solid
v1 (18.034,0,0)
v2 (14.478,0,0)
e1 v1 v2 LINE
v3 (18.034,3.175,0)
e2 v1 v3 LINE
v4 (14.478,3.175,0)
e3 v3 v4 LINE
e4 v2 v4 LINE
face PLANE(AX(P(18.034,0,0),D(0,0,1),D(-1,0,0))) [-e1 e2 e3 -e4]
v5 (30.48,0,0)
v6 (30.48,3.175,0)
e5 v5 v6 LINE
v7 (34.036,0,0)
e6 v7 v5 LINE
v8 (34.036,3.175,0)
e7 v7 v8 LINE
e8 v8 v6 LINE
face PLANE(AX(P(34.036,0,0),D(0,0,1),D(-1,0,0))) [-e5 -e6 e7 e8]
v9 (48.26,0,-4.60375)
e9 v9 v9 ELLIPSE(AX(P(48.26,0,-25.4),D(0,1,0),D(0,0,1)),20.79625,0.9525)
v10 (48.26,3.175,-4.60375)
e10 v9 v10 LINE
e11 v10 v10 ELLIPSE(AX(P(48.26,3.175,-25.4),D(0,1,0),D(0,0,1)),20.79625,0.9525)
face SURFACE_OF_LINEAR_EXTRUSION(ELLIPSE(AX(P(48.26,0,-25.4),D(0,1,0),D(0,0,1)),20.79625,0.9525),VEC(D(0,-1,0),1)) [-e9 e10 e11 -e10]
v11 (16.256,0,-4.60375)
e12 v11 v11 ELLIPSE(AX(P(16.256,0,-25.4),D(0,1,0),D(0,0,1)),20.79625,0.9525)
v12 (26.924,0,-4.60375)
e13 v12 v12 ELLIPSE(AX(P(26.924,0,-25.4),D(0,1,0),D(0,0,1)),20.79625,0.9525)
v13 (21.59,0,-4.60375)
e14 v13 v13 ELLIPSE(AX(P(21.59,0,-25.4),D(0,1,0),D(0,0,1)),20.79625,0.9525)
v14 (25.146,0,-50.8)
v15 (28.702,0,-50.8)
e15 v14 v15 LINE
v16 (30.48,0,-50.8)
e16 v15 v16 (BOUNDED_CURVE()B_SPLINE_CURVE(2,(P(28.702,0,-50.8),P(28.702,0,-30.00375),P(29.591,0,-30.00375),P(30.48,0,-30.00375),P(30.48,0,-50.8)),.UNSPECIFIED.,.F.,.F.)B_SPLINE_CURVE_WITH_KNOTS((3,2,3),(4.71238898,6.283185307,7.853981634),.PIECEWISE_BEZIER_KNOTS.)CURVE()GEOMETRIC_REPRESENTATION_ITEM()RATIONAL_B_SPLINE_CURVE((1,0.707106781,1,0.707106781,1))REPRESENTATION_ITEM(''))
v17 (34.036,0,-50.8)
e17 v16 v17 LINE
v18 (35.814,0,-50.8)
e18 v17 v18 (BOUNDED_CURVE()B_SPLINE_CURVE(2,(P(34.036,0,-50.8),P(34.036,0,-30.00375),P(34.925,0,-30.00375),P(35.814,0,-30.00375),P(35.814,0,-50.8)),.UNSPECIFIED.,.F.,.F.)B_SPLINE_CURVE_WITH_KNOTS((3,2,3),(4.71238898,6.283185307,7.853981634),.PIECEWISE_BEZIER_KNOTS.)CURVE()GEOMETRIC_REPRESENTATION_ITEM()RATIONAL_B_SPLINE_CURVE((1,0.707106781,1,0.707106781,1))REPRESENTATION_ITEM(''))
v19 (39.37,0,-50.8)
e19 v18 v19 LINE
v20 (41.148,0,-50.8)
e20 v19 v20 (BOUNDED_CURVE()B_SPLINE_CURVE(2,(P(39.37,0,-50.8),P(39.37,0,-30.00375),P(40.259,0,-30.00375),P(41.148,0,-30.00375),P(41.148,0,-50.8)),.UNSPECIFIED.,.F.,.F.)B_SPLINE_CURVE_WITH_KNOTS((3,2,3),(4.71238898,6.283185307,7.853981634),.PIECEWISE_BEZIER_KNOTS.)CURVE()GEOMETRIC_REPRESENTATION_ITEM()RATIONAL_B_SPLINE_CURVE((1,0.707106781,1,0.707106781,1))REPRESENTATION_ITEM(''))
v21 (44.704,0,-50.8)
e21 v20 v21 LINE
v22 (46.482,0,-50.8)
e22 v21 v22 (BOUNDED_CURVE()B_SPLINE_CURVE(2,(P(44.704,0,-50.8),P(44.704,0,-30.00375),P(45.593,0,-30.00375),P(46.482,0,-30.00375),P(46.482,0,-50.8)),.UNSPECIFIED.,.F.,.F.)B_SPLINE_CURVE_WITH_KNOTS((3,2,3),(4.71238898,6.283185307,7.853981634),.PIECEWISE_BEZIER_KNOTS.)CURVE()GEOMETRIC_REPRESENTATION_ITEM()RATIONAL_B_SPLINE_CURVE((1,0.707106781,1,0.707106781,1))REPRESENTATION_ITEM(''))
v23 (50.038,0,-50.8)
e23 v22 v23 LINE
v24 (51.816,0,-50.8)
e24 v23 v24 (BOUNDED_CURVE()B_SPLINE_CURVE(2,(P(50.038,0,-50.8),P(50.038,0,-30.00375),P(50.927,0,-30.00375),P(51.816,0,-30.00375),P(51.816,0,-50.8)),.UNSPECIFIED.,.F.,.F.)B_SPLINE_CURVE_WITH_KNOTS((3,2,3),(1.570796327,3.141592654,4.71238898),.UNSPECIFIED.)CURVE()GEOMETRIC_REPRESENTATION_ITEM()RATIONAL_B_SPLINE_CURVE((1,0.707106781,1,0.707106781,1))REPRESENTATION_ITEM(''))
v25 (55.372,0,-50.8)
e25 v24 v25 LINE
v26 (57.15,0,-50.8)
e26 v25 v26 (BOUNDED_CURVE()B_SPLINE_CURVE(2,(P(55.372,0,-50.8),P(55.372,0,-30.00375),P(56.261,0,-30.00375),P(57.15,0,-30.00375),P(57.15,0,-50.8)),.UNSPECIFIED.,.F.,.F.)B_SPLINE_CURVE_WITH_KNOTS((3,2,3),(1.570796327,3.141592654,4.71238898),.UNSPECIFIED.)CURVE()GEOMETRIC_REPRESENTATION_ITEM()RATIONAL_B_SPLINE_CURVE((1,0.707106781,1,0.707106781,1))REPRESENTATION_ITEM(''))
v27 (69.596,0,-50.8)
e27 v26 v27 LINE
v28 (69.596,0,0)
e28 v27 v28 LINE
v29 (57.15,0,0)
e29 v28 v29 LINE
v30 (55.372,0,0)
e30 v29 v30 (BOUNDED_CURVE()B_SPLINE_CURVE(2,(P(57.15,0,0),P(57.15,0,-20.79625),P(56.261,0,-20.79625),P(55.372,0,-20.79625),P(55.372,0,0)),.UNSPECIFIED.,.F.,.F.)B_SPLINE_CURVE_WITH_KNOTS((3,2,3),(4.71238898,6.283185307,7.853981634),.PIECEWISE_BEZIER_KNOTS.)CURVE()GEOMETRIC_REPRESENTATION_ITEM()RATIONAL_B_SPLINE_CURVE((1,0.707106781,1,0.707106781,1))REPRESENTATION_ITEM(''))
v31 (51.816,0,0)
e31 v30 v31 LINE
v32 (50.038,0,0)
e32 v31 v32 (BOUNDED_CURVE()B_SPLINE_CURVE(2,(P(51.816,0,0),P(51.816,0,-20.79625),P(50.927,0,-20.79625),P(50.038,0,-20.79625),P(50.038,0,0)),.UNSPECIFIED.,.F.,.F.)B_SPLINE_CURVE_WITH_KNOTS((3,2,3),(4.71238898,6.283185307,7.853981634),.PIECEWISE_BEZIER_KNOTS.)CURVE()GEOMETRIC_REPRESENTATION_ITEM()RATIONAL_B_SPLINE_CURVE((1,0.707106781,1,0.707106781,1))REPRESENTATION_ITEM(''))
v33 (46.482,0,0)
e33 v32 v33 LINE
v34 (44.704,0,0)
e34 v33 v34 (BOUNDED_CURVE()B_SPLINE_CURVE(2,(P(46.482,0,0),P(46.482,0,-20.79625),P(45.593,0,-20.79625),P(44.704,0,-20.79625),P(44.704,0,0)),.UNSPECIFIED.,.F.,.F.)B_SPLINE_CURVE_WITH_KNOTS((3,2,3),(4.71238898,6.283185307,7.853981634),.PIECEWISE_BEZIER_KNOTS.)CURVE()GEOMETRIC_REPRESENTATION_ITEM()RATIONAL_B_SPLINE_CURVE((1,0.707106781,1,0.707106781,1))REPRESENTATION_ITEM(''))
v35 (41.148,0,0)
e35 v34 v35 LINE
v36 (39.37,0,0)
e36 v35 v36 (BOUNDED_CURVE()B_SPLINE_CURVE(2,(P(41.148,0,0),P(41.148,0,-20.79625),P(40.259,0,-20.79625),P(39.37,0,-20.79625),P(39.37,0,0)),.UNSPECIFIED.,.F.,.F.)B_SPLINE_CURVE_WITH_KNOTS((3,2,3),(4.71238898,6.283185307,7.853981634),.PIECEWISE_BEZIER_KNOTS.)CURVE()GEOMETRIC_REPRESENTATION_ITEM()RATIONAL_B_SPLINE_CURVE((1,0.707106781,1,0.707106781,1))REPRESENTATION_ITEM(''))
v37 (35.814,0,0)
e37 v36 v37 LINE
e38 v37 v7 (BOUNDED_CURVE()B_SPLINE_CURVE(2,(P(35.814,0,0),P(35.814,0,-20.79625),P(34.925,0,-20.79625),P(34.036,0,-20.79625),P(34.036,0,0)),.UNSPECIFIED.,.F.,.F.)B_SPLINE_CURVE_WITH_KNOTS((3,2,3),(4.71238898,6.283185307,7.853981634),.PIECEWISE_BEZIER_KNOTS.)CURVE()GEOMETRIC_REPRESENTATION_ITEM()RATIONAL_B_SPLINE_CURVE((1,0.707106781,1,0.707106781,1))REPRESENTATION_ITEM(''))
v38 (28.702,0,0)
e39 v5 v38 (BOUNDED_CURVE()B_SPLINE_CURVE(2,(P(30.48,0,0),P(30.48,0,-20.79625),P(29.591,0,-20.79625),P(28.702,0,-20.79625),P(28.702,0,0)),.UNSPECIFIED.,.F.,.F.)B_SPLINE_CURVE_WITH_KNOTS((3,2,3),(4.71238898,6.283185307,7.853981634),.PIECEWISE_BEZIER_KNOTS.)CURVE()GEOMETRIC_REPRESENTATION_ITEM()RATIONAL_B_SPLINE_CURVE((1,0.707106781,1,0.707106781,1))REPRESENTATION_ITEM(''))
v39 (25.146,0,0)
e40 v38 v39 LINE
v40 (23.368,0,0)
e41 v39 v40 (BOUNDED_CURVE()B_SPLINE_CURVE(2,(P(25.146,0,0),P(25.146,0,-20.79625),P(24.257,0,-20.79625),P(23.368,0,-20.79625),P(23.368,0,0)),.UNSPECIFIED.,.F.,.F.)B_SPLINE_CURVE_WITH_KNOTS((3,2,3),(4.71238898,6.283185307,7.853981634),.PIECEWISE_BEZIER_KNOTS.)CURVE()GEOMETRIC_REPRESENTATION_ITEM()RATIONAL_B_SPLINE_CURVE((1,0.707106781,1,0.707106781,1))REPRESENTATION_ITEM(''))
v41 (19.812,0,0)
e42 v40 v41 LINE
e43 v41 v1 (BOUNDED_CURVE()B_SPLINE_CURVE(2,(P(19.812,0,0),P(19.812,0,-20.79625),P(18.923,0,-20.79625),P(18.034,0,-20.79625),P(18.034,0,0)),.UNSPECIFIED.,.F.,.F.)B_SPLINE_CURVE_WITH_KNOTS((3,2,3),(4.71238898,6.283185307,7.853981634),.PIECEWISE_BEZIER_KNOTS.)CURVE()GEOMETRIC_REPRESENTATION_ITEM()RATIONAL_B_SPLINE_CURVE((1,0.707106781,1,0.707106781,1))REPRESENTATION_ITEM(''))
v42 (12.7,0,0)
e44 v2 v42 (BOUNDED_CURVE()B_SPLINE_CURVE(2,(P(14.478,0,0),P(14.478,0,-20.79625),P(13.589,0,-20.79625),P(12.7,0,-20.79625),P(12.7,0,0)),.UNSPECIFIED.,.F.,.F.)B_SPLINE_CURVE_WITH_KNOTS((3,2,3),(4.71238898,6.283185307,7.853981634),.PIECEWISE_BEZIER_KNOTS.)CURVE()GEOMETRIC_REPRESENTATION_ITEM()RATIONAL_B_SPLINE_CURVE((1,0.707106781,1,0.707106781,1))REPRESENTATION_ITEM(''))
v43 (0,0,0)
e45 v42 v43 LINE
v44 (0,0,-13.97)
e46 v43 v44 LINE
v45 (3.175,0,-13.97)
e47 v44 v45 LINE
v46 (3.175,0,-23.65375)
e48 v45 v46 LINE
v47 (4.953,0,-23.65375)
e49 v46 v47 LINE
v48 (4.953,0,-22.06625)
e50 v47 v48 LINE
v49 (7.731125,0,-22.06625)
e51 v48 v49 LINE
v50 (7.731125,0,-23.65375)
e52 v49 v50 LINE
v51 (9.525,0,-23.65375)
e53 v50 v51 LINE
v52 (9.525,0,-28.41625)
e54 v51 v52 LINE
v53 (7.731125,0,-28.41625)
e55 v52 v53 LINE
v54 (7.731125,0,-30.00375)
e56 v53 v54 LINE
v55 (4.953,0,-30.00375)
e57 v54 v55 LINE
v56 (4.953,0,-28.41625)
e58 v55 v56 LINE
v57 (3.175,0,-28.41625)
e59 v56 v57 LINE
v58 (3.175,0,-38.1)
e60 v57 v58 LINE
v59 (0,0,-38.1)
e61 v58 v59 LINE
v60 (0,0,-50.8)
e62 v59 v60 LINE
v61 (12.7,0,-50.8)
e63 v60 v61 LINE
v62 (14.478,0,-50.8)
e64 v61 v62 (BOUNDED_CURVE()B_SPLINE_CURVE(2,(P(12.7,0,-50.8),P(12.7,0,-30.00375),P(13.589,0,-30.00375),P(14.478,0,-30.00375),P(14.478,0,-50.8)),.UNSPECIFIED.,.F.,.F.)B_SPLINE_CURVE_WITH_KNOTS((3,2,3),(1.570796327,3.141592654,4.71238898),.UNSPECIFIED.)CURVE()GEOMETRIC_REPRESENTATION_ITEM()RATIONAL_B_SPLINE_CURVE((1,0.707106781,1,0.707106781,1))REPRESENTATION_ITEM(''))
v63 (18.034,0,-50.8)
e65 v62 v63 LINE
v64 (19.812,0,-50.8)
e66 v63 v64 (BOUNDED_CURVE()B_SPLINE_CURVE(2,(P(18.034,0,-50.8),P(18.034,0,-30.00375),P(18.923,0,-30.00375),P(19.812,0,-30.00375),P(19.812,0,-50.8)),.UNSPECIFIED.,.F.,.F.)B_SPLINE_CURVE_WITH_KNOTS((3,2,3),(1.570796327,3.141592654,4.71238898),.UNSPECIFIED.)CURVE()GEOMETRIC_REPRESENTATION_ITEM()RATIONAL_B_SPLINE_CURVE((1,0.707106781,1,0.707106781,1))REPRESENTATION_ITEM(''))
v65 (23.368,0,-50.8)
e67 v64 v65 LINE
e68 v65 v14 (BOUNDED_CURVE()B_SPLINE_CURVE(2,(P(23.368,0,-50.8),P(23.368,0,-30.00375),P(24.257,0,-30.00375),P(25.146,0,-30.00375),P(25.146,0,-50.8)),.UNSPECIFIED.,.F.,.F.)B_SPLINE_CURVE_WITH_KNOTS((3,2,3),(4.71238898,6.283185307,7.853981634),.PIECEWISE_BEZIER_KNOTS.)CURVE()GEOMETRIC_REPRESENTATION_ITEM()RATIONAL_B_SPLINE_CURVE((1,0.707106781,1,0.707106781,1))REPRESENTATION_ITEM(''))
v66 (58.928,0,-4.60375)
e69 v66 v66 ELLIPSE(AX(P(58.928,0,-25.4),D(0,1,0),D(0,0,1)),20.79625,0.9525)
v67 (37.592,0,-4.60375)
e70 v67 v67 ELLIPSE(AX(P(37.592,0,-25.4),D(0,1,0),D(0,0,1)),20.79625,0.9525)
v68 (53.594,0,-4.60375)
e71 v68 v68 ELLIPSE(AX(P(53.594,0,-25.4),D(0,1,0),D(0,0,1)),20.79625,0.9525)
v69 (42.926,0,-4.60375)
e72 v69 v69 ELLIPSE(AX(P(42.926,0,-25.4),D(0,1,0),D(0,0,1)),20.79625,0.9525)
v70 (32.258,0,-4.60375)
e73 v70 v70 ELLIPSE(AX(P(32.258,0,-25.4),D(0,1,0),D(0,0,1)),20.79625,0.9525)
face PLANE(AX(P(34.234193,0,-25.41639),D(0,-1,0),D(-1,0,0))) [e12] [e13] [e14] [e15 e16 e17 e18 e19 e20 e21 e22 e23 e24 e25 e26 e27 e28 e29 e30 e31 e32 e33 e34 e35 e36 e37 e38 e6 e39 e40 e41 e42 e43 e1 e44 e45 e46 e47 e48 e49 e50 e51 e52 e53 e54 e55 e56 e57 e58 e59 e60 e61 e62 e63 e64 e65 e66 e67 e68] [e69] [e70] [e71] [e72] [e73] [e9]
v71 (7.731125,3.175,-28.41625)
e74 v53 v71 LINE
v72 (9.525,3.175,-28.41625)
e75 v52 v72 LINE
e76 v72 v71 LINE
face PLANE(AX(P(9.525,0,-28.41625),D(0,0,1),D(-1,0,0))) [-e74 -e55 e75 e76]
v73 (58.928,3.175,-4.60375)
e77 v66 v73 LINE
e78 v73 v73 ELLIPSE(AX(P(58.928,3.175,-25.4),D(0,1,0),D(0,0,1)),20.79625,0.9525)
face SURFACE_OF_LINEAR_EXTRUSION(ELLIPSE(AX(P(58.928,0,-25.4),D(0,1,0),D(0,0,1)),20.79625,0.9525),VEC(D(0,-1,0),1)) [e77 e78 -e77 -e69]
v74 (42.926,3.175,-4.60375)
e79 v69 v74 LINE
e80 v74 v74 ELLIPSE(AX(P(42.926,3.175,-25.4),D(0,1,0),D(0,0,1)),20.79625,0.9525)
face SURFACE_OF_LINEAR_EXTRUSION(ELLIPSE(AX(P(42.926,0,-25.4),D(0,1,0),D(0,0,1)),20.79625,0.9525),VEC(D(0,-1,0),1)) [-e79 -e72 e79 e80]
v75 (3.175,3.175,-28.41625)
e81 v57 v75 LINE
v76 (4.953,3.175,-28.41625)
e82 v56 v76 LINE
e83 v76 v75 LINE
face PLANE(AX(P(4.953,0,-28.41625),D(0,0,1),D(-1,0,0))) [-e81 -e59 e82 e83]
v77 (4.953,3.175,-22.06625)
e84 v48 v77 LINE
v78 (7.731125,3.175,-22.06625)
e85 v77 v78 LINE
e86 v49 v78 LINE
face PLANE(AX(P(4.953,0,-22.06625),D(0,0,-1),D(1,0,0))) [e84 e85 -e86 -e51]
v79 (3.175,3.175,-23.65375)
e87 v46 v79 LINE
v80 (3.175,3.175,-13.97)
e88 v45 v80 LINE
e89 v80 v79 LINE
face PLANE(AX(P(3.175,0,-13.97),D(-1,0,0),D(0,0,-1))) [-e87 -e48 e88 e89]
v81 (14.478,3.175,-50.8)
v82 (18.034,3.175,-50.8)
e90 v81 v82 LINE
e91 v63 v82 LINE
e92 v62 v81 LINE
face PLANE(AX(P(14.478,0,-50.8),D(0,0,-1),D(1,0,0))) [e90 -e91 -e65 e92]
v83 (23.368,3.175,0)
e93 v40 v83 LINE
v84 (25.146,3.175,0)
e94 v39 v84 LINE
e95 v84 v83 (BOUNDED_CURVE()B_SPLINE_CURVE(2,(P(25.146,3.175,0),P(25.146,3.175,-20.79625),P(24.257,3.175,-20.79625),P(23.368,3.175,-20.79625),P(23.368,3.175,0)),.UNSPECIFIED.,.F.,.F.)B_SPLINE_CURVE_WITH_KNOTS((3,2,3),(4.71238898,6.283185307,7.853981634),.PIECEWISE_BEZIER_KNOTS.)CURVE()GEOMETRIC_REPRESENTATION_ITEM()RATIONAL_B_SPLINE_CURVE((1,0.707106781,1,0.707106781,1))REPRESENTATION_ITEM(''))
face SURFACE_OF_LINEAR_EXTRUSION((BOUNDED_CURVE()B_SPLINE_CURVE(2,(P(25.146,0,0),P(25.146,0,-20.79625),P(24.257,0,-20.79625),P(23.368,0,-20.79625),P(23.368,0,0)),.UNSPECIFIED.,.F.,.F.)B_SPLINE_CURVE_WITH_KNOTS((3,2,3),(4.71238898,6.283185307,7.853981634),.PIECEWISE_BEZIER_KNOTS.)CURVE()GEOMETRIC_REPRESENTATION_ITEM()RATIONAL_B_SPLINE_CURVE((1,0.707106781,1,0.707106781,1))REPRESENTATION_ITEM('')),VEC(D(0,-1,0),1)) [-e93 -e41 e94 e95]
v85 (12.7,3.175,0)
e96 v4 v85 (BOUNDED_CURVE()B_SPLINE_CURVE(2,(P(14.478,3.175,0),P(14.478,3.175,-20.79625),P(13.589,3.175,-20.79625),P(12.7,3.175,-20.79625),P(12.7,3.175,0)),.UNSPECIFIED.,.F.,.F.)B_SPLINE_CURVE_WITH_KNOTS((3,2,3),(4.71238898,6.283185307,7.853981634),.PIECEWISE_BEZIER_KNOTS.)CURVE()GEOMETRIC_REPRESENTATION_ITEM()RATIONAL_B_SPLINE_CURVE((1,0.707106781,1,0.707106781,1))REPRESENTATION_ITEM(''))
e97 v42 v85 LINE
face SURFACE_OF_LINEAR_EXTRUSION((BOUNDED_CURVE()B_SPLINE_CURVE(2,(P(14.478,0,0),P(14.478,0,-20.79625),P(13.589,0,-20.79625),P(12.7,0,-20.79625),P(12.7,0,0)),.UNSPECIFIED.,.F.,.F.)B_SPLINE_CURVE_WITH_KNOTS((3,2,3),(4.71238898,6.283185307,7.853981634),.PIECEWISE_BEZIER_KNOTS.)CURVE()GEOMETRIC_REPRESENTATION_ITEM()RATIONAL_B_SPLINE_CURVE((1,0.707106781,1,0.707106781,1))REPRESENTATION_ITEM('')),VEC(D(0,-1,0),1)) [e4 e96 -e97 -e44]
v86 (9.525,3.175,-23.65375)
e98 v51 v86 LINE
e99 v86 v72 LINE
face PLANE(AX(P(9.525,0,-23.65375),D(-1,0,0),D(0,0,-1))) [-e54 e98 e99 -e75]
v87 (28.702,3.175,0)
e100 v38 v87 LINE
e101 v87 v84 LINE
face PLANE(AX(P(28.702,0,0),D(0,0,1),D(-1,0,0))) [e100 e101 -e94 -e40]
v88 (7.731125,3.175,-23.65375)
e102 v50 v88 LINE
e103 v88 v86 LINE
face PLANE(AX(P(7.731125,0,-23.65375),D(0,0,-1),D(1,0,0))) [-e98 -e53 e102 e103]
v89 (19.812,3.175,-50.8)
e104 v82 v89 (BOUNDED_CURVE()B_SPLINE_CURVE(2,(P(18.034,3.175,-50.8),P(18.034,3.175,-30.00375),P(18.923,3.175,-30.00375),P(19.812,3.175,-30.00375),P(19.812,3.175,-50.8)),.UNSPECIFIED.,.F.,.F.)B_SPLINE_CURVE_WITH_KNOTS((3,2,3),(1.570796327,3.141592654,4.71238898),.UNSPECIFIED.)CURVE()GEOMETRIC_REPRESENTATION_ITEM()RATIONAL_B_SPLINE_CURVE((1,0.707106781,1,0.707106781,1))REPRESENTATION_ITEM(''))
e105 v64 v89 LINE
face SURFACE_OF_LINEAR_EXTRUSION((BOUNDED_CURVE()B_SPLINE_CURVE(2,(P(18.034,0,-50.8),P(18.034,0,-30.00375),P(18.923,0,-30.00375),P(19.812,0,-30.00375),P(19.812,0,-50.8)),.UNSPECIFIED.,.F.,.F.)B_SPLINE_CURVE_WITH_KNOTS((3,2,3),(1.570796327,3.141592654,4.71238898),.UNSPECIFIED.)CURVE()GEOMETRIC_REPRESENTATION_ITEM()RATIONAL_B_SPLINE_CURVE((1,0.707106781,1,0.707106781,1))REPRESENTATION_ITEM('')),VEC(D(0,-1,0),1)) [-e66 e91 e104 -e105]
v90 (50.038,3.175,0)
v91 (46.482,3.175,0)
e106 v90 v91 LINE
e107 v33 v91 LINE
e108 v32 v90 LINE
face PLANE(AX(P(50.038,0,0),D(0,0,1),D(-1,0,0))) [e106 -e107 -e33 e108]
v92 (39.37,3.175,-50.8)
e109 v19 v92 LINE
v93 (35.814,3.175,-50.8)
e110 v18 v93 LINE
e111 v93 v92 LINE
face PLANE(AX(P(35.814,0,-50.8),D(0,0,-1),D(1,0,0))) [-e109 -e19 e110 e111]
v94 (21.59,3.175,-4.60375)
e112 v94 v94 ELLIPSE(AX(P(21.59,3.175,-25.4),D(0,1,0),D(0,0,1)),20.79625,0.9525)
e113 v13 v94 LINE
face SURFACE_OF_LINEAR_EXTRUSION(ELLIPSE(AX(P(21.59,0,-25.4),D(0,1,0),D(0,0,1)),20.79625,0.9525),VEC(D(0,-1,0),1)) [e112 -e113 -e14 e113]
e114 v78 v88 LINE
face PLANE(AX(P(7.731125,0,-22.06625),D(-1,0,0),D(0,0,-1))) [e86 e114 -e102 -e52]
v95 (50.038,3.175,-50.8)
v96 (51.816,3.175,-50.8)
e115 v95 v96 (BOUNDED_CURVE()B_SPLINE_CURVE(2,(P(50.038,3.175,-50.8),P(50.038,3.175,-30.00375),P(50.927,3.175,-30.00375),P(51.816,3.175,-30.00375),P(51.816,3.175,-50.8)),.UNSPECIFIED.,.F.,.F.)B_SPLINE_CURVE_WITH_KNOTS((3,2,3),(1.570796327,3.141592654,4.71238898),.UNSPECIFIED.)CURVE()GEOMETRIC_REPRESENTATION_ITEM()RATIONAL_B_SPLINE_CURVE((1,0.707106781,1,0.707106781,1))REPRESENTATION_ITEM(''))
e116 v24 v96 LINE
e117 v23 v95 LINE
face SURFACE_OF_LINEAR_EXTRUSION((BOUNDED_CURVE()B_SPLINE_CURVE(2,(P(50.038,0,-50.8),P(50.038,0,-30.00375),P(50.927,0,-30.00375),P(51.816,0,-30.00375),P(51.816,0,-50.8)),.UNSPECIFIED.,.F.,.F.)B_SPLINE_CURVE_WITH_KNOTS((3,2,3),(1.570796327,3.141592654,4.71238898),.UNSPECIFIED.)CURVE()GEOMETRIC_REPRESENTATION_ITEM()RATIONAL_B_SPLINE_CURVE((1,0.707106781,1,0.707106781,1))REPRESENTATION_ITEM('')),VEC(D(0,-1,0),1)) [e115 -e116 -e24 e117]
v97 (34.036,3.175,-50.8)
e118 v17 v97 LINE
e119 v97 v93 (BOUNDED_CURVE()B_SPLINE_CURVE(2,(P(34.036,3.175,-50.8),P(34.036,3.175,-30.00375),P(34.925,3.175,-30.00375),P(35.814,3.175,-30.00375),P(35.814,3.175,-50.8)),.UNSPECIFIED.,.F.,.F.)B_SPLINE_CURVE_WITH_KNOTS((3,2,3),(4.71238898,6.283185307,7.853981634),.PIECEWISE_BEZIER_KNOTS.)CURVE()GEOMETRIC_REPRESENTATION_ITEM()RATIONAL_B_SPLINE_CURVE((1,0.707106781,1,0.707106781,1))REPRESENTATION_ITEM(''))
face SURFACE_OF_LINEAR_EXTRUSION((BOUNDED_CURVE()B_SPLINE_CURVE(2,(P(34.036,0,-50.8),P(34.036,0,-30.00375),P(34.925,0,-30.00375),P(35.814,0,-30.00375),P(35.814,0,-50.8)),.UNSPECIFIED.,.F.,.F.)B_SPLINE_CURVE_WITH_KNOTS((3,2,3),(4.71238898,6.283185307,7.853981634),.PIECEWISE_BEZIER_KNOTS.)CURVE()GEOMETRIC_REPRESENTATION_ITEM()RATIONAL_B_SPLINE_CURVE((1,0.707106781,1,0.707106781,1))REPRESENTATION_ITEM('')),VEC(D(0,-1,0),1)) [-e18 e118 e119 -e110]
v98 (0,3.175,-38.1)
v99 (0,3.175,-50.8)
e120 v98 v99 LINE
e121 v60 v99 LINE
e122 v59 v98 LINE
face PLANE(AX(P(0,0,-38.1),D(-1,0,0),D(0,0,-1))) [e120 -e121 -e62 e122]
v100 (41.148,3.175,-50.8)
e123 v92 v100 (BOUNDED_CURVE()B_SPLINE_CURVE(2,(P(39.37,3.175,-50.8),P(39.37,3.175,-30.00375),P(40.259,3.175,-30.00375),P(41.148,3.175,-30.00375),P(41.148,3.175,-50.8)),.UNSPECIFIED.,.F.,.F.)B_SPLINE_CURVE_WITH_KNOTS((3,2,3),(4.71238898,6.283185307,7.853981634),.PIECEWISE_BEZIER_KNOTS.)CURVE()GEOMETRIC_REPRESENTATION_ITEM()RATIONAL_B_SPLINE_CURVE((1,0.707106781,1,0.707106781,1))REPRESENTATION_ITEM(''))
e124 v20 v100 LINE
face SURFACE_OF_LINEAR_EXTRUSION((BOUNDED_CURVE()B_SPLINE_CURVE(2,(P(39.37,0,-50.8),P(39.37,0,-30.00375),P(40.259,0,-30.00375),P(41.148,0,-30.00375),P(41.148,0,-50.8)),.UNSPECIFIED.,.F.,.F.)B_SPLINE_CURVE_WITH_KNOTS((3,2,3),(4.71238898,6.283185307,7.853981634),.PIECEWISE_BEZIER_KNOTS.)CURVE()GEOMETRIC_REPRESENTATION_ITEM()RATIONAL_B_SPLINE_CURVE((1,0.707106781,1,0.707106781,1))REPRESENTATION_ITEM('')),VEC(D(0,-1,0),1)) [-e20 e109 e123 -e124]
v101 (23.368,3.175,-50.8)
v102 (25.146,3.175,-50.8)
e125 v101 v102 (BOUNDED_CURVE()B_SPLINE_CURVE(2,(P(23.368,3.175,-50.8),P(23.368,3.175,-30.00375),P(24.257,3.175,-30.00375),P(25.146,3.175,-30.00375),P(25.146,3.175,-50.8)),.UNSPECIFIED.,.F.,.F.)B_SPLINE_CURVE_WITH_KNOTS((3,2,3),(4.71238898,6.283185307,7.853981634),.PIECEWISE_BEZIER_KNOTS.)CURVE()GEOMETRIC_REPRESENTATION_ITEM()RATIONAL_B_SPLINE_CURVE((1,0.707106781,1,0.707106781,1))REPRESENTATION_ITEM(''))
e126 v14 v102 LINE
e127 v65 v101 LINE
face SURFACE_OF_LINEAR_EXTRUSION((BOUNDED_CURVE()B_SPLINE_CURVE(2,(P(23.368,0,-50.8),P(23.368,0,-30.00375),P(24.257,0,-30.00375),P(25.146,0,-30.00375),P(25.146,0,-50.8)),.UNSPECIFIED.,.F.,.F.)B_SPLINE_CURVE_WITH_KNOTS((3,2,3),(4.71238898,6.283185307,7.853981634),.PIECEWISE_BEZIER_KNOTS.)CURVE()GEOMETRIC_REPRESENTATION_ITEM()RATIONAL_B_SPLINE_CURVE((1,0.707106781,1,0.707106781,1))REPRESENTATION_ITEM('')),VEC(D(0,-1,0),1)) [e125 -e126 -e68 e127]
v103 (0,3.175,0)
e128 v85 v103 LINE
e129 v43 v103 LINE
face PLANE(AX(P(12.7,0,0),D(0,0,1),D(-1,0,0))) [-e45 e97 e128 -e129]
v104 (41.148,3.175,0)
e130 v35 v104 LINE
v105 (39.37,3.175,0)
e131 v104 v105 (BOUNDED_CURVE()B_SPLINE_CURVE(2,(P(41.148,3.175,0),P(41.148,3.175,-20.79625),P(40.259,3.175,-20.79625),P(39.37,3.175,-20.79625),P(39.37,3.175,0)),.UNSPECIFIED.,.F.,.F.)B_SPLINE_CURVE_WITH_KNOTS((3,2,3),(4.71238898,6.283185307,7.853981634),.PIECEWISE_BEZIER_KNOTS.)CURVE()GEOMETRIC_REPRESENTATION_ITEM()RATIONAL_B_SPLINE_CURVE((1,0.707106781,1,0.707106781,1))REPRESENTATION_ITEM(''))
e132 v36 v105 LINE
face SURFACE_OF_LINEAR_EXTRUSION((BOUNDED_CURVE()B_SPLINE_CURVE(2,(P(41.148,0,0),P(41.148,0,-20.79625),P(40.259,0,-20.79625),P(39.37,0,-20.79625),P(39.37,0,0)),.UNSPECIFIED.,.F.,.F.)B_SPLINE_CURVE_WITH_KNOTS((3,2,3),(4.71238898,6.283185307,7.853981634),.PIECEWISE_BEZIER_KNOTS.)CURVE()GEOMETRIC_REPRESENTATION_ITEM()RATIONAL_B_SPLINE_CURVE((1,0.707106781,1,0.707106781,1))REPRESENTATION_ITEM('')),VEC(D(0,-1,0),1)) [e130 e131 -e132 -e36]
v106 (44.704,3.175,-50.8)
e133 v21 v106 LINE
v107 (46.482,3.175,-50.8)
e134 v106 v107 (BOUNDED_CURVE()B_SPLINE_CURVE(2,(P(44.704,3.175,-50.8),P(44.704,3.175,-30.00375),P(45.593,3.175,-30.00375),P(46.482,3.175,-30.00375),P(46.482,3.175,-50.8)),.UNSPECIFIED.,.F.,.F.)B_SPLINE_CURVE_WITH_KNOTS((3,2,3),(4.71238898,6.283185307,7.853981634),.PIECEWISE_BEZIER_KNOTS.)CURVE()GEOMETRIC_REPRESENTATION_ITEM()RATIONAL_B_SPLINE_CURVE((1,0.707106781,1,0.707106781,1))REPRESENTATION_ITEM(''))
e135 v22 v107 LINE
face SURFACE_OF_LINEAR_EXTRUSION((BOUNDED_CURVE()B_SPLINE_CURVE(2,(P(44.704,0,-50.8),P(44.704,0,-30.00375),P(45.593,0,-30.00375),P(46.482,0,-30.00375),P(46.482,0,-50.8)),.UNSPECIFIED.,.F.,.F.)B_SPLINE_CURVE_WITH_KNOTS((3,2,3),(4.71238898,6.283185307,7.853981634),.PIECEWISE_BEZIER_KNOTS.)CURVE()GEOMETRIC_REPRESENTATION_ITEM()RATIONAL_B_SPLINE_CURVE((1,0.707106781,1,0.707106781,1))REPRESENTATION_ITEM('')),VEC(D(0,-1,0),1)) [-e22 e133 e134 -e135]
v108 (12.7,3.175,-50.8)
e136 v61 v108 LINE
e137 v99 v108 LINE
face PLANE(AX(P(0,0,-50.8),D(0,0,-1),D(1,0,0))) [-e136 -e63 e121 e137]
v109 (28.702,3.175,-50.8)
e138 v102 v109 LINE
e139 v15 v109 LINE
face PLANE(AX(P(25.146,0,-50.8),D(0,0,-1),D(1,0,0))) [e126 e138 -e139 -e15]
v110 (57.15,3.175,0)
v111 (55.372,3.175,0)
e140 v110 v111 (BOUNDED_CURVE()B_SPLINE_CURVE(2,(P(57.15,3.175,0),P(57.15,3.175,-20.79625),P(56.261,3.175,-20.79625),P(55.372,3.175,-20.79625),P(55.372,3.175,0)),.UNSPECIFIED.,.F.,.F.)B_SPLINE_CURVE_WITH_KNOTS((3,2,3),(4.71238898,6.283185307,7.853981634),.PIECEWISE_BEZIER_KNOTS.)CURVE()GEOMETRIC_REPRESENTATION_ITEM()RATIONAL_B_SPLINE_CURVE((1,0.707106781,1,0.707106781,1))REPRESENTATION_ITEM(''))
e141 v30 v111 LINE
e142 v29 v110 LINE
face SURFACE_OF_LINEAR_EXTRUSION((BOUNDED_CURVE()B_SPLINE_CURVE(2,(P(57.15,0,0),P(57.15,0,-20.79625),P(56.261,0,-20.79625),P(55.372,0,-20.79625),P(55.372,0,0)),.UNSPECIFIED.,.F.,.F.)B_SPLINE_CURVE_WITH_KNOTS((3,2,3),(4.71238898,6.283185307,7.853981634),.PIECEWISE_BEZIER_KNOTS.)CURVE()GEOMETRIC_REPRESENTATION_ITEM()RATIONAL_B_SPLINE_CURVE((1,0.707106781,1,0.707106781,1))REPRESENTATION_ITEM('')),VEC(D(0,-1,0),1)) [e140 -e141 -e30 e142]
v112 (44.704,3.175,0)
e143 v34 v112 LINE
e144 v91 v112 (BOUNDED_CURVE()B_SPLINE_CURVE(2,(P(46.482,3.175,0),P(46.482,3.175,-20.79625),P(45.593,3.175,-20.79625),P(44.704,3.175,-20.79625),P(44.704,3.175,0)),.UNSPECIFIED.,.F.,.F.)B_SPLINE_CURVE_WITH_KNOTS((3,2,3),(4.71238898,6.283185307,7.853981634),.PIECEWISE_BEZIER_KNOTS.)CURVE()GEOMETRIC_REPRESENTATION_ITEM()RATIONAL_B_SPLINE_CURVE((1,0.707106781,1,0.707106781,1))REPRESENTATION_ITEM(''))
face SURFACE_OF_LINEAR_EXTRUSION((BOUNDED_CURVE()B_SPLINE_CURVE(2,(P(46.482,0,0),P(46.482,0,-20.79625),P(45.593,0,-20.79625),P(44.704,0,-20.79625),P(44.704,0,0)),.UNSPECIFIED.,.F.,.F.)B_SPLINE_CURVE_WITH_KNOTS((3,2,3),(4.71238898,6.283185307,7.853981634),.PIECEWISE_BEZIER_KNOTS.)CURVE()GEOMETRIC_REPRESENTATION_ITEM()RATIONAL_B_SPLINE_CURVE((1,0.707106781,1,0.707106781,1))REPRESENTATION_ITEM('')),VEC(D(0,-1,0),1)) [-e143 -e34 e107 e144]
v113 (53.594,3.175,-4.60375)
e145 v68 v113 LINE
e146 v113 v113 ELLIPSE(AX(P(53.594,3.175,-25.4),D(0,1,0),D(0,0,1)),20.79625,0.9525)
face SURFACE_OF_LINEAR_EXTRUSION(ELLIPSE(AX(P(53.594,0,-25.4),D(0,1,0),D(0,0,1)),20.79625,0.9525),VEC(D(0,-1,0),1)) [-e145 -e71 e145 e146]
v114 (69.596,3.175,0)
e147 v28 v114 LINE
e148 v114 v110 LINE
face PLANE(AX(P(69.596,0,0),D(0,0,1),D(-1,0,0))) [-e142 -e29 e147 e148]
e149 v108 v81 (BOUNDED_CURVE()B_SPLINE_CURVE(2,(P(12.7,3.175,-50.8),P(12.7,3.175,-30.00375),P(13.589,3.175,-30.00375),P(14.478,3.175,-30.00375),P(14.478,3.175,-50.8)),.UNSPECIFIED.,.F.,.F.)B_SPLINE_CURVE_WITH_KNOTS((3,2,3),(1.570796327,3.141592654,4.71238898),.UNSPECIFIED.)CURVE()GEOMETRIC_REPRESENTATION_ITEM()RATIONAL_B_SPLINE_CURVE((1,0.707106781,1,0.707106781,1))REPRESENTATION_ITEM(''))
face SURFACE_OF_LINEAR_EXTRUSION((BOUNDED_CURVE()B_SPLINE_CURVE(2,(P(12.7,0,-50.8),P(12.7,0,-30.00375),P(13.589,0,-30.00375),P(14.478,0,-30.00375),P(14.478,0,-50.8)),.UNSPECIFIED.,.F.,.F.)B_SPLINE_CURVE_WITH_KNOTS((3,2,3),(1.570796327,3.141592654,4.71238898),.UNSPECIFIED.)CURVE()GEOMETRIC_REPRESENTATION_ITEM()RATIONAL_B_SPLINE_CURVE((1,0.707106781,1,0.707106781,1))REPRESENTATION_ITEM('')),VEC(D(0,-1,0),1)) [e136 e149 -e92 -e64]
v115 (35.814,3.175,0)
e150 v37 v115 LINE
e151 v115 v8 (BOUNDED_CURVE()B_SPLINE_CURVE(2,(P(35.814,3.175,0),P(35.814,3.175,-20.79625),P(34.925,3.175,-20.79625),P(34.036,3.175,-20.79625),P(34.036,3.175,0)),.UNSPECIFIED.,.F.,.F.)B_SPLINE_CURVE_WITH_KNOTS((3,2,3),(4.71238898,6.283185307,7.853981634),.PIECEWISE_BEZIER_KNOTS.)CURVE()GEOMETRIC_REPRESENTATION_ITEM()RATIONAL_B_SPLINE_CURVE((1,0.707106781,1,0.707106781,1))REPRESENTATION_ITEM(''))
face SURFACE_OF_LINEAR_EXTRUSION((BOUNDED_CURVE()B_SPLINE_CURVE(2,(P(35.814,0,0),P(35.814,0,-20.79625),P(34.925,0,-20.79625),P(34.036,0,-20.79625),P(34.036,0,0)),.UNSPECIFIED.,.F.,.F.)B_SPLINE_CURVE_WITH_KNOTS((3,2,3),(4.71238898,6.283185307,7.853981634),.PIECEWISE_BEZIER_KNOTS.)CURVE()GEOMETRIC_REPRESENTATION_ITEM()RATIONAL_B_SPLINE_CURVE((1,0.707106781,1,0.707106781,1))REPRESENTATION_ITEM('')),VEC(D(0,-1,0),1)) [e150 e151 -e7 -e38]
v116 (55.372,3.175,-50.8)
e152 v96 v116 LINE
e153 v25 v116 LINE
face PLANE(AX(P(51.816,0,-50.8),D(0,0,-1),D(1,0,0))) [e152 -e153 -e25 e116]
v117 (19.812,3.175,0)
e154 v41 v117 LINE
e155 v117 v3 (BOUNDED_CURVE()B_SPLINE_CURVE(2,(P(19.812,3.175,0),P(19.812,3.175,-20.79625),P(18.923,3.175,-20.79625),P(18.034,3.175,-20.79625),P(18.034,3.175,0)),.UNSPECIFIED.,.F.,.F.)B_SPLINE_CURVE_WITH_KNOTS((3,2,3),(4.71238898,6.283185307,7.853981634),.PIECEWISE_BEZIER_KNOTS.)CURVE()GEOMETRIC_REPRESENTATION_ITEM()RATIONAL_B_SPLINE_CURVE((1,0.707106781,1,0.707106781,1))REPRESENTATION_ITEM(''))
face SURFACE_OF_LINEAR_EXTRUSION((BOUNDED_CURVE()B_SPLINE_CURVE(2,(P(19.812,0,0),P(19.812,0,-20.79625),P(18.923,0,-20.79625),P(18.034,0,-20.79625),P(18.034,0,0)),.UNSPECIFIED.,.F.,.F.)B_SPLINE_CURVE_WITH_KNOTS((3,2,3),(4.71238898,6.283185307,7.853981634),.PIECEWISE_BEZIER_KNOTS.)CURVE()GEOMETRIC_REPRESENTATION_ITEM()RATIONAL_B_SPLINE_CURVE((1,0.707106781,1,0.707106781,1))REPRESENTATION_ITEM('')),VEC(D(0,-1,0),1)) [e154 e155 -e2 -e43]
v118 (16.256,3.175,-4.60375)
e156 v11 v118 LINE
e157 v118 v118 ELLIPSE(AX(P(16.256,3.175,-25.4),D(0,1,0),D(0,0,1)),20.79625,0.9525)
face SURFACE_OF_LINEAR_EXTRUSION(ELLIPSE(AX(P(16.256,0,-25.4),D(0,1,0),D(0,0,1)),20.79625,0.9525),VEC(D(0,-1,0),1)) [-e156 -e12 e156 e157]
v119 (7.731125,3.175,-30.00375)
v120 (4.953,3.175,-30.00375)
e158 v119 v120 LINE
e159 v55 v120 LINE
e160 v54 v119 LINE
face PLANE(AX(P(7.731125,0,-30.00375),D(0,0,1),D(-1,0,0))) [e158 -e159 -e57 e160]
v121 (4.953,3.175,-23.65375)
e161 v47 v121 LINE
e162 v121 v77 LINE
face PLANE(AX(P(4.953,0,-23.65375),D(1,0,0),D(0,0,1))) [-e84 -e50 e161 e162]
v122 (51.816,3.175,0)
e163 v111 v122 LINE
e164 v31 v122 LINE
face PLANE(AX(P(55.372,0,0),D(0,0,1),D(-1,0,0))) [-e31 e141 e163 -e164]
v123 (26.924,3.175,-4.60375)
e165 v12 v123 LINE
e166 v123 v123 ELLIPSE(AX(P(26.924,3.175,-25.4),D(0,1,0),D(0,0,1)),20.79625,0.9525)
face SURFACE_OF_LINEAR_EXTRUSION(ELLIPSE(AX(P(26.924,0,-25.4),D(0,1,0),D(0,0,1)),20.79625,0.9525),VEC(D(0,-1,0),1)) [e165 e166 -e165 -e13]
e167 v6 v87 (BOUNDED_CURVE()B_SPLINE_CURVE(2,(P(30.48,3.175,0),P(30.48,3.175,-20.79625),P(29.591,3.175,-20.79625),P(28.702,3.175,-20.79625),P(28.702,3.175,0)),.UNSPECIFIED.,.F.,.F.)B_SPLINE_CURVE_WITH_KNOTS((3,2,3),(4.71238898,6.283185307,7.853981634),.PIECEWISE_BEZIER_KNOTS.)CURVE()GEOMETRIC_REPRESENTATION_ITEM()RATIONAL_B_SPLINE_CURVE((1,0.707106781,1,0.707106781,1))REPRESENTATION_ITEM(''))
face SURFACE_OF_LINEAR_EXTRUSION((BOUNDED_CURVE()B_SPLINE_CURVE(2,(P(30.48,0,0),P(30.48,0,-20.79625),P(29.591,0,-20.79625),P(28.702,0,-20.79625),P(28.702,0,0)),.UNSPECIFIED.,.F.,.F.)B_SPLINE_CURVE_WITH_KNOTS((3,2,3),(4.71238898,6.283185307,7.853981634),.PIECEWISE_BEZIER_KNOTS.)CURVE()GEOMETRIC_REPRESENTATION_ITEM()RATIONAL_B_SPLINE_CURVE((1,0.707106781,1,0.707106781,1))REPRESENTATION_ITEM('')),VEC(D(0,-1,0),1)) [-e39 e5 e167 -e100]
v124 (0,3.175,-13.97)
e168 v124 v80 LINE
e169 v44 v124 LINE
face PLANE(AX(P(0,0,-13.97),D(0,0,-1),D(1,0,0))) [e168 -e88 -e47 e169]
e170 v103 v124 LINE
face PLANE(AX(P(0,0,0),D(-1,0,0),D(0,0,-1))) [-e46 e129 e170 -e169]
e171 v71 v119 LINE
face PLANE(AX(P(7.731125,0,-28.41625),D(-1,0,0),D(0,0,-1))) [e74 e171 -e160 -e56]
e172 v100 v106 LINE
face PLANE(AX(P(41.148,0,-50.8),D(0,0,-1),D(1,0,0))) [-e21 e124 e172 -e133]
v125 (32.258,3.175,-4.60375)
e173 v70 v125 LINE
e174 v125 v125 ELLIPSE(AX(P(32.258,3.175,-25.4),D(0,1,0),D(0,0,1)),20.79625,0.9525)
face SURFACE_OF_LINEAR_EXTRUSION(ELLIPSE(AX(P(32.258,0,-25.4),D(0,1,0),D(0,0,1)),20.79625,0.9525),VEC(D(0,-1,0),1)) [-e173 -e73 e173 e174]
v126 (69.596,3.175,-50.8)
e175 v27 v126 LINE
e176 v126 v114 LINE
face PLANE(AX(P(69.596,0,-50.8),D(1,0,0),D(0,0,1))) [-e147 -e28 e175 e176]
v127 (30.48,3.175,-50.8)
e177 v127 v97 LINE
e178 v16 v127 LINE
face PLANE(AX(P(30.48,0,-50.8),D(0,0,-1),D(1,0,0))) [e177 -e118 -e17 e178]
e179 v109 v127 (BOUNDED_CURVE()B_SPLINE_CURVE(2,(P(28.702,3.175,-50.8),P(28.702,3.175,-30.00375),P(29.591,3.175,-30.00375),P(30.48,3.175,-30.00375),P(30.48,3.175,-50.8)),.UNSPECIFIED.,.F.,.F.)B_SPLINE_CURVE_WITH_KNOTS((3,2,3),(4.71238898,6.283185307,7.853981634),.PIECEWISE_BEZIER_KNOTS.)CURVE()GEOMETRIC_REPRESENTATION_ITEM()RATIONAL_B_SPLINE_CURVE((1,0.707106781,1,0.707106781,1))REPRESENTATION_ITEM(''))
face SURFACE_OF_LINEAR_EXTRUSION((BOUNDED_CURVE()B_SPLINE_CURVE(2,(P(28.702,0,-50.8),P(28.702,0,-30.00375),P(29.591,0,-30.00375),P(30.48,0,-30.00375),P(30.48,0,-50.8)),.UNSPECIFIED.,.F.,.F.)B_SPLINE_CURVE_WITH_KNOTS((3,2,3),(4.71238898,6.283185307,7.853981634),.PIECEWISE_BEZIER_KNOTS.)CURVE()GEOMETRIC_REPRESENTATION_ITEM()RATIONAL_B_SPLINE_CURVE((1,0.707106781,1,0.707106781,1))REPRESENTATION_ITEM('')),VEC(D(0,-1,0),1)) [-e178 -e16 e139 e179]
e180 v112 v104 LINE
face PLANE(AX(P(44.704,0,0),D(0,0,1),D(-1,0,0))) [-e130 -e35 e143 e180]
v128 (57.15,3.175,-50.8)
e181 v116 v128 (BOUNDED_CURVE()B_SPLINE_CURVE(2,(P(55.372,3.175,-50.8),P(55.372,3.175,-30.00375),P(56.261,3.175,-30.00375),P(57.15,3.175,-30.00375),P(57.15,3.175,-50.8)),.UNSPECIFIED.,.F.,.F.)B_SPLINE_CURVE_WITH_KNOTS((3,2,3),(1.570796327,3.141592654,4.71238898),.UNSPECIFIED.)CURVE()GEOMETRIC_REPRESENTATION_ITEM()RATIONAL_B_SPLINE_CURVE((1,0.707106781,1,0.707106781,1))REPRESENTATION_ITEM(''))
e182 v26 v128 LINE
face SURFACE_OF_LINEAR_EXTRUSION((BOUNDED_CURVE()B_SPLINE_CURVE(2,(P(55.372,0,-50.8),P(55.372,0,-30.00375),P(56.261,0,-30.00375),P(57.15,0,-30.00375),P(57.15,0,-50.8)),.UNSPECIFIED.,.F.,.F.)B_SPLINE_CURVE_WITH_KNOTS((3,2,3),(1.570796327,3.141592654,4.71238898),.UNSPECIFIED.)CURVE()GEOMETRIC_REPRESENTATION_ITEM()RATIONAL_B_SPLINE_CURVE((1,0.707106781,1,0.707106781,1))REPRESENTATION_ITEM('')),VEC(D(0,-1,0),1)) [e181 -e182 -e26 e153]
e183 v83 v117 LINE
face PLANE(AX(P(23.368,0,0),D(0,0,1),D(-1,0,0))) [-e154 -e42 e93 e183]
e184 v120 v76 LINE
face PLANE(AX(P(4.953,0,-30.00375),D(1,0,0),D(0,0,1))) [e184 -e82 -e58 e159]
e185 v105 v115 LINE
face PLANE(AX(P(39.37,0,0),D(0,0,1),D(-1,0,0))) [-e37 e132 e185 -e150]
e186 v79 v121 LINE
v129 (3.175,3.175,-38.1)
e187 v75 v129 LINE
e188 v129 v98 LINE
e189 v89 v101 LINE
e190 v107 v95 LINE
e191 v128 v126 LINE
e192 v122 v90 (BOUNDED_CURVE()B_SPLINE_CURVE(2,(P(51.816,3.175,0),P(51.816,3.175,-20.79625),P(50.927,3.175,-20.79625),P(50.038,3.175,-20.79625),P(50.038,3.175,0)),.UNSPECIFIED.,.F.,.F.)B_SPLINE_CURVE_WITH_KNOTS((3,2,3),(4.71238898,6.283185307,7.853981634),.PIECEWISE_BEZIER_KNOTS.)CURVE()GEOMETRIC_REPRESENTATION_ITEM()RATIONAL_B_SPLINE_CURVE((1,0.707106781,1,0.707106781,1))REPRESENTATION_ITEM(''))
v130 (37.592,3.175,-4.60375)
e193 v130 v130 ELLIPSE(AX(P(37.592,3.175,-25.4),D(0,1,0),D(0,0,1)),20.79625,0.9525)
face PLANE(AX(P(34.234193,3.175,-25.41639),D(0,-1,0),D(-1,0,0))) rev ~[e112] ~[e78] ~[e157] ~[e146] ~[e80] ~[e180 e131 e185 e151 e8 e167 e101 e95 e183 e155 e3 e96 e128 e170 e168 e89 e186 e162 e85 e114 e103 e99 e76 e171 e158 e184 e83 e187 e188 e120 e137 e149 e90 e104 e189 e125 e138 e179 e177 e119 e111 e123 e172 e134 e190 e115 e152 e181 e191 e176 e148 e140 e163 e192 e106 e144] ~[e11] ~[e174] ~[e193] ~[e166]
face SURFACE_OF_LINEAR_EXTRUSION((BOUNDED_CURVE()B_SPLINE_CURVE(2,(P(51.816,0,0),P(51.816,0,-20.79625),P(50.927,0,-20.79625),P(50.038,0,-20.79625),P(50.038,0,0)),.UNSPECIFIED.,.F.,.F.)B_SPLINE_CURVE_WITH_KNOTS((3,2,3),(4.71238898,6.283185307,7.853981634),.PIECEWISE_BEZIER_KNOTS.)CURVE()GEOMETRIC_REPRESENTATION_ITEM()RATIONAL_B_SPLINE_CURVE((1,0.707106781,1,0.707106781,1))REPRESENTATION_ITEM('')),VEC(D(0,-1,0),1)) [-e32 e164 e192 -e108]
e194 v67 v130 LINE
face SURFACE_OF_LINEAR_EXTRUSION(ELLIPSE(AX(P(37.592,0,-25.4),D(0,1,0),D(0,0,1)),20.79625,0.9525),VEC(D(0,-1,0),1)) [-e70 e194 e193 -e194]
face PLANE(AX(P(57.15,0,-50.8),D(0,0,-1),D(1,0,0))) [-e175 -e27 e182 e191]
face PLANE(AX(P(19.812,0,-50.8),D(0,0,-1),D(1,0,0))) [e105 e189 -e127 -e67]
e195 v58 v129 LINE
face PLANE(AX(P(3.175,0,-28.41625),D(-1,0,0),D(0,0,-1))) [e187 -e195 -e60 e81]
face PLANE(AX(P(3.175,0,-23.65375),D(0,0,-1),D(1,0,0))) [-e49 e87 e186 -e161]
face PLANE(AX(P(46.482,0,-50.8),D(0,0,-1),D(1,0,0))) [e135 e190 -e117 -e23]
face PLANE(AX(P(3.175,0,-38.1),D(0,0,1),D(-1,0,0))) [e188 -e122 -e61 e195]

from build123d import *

# Parameters (mm, degrees)
SKETCH1_RX          = 20.79625
SKETCH1_RY          = 0.9525
BOSS_EXTRUDE1_DEPTH = 3.175


with BuildPart() as part:
    # Sketch1 → Boss-Extrude1 (new body)
    with BuildSketch(Plane(origin=(0, 0, 0), x_dir=(1, 0, 0), z_dir=(0, 1, 0))):
        with BuildLine():
            Line((0, 13.97), (3.175, 13.97))
            Line((3.175, 13.97), (3.175, 23.65375))
            Line((3.175, 23.65375), (4.953, 23.65375))
            Line((4.953, 23.65375), (4.953, 22.06625))
            Line((4.953, 22.06625), (7.731125, 22.06625))
            Line((7.731125, 22.06625), (7.731125, 23.65375))
            Line((7.731125, 23.65375), (9.525, 23.65375))
            Line((9.525, 23.65375), (9.525, 28.41625))
            Line((9.525, 28.41625), (7.731125, 28.41625))
            Line((7.731125, 28.41625), (7.731125, 30.00375))
            Line((7.731125, 30.00375), (4.953, 30.00375))
            Line((4.953, 30.00375), (4.953, 28.41625))
            Line((4.953, 28.41625), (3.175, 28.41625))
            Line((3.175, 28.41625), (3.175, 38.1))
            Line((3.175, 38.1), (0, 38.1))
            Line((0, 38.1), (0, 50.8))
            Line((0, 50.8), (12.7, 50.8))
            add(Edge.make_bspline(
                [(12.7, 50.8), (12.7, 30.00375), (13.589, 30.00375), (14.478, 30.00375), (14.478, 50.8)],
                knots=[1.570796327, 1.570796327, 1.570796327, 3.141592654, 3.141592654, 4.71238898, 4.71238898, 4.71238898], degree=2, weights=[1, 0.707106781, 1, 0.707106781, 1]))
            Line((14.478, 50.8), (18.034, 50.8))
            add(Edge.make_bspline(
                [(18.034, 50.8), (18.034, 30.00375), (18.923, 30.00375), (19.812, 30.00375), (19.812, 50.8)],
                knots=[1.570796327, 1.570796327, 1.570796327, 3.141592654, 3.141592654, 4.71238898, 4.71238898, 4.71238898], degree=2, weights=[1, 0.707106781, 1, 0.707106781, 1]))
            Line((19.812, 50.8), (23.368, 50.8))
            add(Edge.make_bspline(
                [(23.368, 50.8), (23.368, 30.00375), (24.257, 30.00375), (25.146, 30.00375), (25.146, 50.8)],
                knots=[4.71238898, 4.71238898, 4.71238898, 6.283185307, 6.283185307, 7.853981634, 7.853981634, 7.853981634], degree=2, weights=[1, 0.707106781, 1, 0.707106781, 1]))
            Line((25.146, 50.8), (28.702, 50.8))
            add(Edge.make_bspline(
                [(28.702, 50.8), (28.702, 30.00375), (29.591, 30.00375), (30.48, 30.00375), (30.48, 50.8)],
                knots=[4.71238898, 4.71238898, 4.71238898, 6.283185307, 6.283185307, 7.853981634, 7.853981634, 7.853981634], degree=2, weights=[1, 0.707106781, 1, 0.707106781, 1]))
            Line((30.48, 50.8), (34.036, 50.8))
            add(Edge.make_bspline(
                [(34.036, 50.8), (34.036, 30.00375), (34.925, 30.00375), (35.814, 30.00375), (35.814, 50.8)],
                knots=[4.71238898, 4.71238898, 4.71238898, 6.283185307, 6.283185307, 7.853981634, 7.853981634, 7.853981634], degree=2, weights=[1, 0.707106781, 1, 0.707106781, 1]))
            Line((35.814, 50.8), (39.37, 50.8))
            add(Edge.make_bspline(
                [(39.37, 50.8), (39.37, 30.00375), (40.259, 30.00375), (41.148, 30.00375), (41.148, 50.8)],
                knots=[4.71238898, 4.71238898, 4.71238898, 6.283185307, 6.283185307, 7.853981634, 7.853981634, 7.853981634], degree=2, weights=[1, 0.707106781, 1, 0.707106781, 1]))
            Line((41.148, 50.8), (44.704, 50.8))
            add(Edge.make_bspline(
                [(44.704, 50.8), (44.704, 30.00375), (45.593, 30.00375), (46.482, 30.00375), (46.482, 50.8)],
                knots=[4.71238898, 4.71238898, 4.71238898, 6.283185307, 6.283185307, 7.853981634, 7.853981634, 7.853981634], degree=2, weights=[1, 0.707106781, 1, 0.707106781, 1]))
            Line((46.482, 50.8), (50.038, 50.8))
            add(Edge.make_bspline(
                [(50.038, 50.8), (50.038, 30.00375), (50.927, 30.00375), (51.816, 30.00375), (51.816, 50.8)],
                knots=[1.570796327, 1.570796327, 1.570796327, 3.141592654, 3.141592654, 4.71238898, 4.71238898, 4.71238898], degree=2, weights=[1, 0.707106781, 1, 0.707106781, 1]))
            Line((51.816, 50.8), (55.372, 50.8))
            add(Edge.make_bspline(
                [(55.372, 50.8), (55.372, 30.00375), (56.261, 30.00375), (57.15, 30.00375), (57.15, 50.8)],
                knots=[1.570796327, 1.570796327, 1.570796327, 3.141592654, 3.141592654, 4.71238898, 4.71238898, 4.71238898], degree=2, weights=[1, 0.707106781, 1, 0.707106781, 1]))
            Line((57.15, 50.8), (60.706, 50.8))
            Line((60.706, 50.8), (69.596, 50.8))
            Line((69.596, 50.8), (69.596, 0))
            Line((69.596, 0), (60.706, 0))
            Line((60.706, 0), (57.15, 0))
            add(Edge.make_bspline(
                [(57.15, 0), (57.15, 20.79625), (56.261, 20.79625), (55.372, 20.79625), (55.372, 0)],
                knots=[4.71238898, 4.71238898, 4.71238898, 6.283185307, 6.283185307, 7.853981634, 7.853981634, 7.853981634], degree=2, weights=[1, 0.707106781, 1, 0.707106781, 1]))
            Line((55.372, 0), (51.816, 0))
            add(Edge.make_bspline(
                [(51.816, 0), (51.816, 20.79625), (50.927, 20.79625), (50.038, 20.79625), (50.038, 0)],
                knots=[4.71238898, 4.71238898, 4.71238898, 6.283185307, 6.283185307, 7.853981634, 7.853981634, 7.853981634], degree=2, weights=[1, 0.707106781, 1, 0.707106781, 1]))
            Line((50.038, 0), (46.482, 0))
            add(Edge.make_bspline(
                [(46.482, 0), (46.482, 20.79625), (45.593, 20.79625), (44.704, 20.79625), (44.704, 0)],
                knots=[4.71238898, 4.71238898, 4.71238898, 6.283185307, 6.283185307, 7.853981634, 7.853981634, 7.853981634], degree=2, weights=[1, 0.707106781, 1, 0.707106781, 1]))
            Line((44.704, 0), (41.148, 0))
            add(Edge.make_bspline(
                [(41.148, 0), (41.148, 20.79625), (40.259, 20.79625), (39.37, 20.79625), (39.37, 0)],
                knots=[4.71238898, 4.71238898, 4.71238898, 6.283185307, 6.283185307, 7.853981634, 7.853981634, 7.853981634], degree=2, weights=[1, 0.707106781, 1, 0.707106781, 1]))
            Line((39.37, 0), (35.814, 0))
            add(Edge.make_bspline(
                [(35.814, 0), (35.814, 20.79625), (34.925, 20.79625), (34.036, 20.79625), (34.036, 0)],
                knots=[4.71238898, 4.71238898, 4.71238898, 6.283185307, 6.283185307, 7.853981634, 7.853981634, 7.853981634], degree=2, weights=[1, 0.707106781, 1, 0.707106781, 1]))
            Line((34.036, 0), (30.48, 0))
            add(Edge.make_bspline(
                [(30.48, 0), (30.48, 20.79625), (29.591, 20.79625), (28.702, 20.79625), (28.702, 0)],
                knots=[4.71238898, 4.71238898, 4.71238898, 6.283185307, 6.283185307, 7.853981634, 7.853981634, 7.853981634], degree=2, weights=[1, 0.707106781, 1, 0.707106781, 1]))
            Line((28.702, 0), (25.146, 0))
            add(Edge.make_bspline(
                [(25.146, 0), (25.146, 20.79625), (24.257, 20.79625), (23.368, 20.79625), (23.368, 0)],
                knots=[4.71238898, 4.71238898, 4.71238898, 6.283185307, 6.283185307, 7.853981634, 7.853981634, 7.853981634], degree=2, weights=[1, 0.707106781, 1, 0.707106781, 1]))
            Line((23.368, 0), (19.812, 0))
            add(Edge.make_bspline(
                [(19.812, 0), (19.812, 20.79625), (18.923, 20.79625), (18.034, 20.79625), (18.034, 0)],
                knots=[4.71238898, 4.71238898, 4.71238898, 6.283185307, 6.283185307, 7.853981634, 7.853981634, 7.853981634], degree=2, weights=[1, 0.707106781, 1, 0.707106781, 1]))
            Line((18.034, 0), (14.478, 0))
            add(Edge.make_bspline(
                [(14.478, 0), (14.478, 20.79625), (13.589, 20.79625), (12.7, 20.79625), (12.7, 0)],
                knots=[4.71238898, 4.71238898, 4.71238898, 6.283185307, 6.283185307, 7.853981634, 7.853981634, 7.853981634], degree=2, weights=[1, 0.707106781, 1, 0.707106781, 1]))
            Line((12.7, 0), (0, 0))
            Line((0, 0), (0, 13.97))
        make_face()
        with Locations(Location((16.256, 25.4), (0, 0, -90))):
            Ellipse(SKETCH1_RX, SKETCH1_RY, mode=Mode.SUBTRACT)
        with Locations(Location((21.59, 25.4), (0, 0, -90))):
            Ellipse(SKETCH1_RX, SKETCH1_RY, mode=Mode.SUBTRACT)
        with Locations(Location((26.924, 25.4), (0, 0, -90))):
            Ellipse(SKETCH1_RX, SKETCH1_RY, mode=Mode.SUBTRACT)
        with Locations(Location((32.258, 25.4), (0, 0, -90))):
            Ellipse(SKETCH1_RX, SKETCH1_RY, mode=Mode.SUBTRACT)
        with Locations(Location((37.592, 25.4), (0, 0, -90))):
            Ellipse(SKETCH1_RX, SKETCH1_RY, mode=Mode.SUBTRACT)
        with Locations(Location((42.926, 25.4), (0, 0, -90))):
            Ellipse(SKETCH1_RX, SKETCH1_RY, mode=Mode.SUBTRACT)
        with Locations(Location((48.26, 25.4), (0, 0, -90))):
            Ellipse(SKETCH1_RX, SKETCH1_RY, mode=Mode.SUBTRACT)
        with Locations(Location((53.594, 25.4), (0, 0, -90))):
            Ellipse(SKETCH1_RX, SKETCH1_RY, mode=Mode.SUBTRACT)
        with Locations(Location((58.928, 25.4), (0, 0, -90))):
            Ellipse(SKETCH1_RX, SKETCH1_RY, mode=Mode.SUBTRACT)
    extrude(amount=BOSS_EXTRUDE1_DEPTH)


solid = part.part
